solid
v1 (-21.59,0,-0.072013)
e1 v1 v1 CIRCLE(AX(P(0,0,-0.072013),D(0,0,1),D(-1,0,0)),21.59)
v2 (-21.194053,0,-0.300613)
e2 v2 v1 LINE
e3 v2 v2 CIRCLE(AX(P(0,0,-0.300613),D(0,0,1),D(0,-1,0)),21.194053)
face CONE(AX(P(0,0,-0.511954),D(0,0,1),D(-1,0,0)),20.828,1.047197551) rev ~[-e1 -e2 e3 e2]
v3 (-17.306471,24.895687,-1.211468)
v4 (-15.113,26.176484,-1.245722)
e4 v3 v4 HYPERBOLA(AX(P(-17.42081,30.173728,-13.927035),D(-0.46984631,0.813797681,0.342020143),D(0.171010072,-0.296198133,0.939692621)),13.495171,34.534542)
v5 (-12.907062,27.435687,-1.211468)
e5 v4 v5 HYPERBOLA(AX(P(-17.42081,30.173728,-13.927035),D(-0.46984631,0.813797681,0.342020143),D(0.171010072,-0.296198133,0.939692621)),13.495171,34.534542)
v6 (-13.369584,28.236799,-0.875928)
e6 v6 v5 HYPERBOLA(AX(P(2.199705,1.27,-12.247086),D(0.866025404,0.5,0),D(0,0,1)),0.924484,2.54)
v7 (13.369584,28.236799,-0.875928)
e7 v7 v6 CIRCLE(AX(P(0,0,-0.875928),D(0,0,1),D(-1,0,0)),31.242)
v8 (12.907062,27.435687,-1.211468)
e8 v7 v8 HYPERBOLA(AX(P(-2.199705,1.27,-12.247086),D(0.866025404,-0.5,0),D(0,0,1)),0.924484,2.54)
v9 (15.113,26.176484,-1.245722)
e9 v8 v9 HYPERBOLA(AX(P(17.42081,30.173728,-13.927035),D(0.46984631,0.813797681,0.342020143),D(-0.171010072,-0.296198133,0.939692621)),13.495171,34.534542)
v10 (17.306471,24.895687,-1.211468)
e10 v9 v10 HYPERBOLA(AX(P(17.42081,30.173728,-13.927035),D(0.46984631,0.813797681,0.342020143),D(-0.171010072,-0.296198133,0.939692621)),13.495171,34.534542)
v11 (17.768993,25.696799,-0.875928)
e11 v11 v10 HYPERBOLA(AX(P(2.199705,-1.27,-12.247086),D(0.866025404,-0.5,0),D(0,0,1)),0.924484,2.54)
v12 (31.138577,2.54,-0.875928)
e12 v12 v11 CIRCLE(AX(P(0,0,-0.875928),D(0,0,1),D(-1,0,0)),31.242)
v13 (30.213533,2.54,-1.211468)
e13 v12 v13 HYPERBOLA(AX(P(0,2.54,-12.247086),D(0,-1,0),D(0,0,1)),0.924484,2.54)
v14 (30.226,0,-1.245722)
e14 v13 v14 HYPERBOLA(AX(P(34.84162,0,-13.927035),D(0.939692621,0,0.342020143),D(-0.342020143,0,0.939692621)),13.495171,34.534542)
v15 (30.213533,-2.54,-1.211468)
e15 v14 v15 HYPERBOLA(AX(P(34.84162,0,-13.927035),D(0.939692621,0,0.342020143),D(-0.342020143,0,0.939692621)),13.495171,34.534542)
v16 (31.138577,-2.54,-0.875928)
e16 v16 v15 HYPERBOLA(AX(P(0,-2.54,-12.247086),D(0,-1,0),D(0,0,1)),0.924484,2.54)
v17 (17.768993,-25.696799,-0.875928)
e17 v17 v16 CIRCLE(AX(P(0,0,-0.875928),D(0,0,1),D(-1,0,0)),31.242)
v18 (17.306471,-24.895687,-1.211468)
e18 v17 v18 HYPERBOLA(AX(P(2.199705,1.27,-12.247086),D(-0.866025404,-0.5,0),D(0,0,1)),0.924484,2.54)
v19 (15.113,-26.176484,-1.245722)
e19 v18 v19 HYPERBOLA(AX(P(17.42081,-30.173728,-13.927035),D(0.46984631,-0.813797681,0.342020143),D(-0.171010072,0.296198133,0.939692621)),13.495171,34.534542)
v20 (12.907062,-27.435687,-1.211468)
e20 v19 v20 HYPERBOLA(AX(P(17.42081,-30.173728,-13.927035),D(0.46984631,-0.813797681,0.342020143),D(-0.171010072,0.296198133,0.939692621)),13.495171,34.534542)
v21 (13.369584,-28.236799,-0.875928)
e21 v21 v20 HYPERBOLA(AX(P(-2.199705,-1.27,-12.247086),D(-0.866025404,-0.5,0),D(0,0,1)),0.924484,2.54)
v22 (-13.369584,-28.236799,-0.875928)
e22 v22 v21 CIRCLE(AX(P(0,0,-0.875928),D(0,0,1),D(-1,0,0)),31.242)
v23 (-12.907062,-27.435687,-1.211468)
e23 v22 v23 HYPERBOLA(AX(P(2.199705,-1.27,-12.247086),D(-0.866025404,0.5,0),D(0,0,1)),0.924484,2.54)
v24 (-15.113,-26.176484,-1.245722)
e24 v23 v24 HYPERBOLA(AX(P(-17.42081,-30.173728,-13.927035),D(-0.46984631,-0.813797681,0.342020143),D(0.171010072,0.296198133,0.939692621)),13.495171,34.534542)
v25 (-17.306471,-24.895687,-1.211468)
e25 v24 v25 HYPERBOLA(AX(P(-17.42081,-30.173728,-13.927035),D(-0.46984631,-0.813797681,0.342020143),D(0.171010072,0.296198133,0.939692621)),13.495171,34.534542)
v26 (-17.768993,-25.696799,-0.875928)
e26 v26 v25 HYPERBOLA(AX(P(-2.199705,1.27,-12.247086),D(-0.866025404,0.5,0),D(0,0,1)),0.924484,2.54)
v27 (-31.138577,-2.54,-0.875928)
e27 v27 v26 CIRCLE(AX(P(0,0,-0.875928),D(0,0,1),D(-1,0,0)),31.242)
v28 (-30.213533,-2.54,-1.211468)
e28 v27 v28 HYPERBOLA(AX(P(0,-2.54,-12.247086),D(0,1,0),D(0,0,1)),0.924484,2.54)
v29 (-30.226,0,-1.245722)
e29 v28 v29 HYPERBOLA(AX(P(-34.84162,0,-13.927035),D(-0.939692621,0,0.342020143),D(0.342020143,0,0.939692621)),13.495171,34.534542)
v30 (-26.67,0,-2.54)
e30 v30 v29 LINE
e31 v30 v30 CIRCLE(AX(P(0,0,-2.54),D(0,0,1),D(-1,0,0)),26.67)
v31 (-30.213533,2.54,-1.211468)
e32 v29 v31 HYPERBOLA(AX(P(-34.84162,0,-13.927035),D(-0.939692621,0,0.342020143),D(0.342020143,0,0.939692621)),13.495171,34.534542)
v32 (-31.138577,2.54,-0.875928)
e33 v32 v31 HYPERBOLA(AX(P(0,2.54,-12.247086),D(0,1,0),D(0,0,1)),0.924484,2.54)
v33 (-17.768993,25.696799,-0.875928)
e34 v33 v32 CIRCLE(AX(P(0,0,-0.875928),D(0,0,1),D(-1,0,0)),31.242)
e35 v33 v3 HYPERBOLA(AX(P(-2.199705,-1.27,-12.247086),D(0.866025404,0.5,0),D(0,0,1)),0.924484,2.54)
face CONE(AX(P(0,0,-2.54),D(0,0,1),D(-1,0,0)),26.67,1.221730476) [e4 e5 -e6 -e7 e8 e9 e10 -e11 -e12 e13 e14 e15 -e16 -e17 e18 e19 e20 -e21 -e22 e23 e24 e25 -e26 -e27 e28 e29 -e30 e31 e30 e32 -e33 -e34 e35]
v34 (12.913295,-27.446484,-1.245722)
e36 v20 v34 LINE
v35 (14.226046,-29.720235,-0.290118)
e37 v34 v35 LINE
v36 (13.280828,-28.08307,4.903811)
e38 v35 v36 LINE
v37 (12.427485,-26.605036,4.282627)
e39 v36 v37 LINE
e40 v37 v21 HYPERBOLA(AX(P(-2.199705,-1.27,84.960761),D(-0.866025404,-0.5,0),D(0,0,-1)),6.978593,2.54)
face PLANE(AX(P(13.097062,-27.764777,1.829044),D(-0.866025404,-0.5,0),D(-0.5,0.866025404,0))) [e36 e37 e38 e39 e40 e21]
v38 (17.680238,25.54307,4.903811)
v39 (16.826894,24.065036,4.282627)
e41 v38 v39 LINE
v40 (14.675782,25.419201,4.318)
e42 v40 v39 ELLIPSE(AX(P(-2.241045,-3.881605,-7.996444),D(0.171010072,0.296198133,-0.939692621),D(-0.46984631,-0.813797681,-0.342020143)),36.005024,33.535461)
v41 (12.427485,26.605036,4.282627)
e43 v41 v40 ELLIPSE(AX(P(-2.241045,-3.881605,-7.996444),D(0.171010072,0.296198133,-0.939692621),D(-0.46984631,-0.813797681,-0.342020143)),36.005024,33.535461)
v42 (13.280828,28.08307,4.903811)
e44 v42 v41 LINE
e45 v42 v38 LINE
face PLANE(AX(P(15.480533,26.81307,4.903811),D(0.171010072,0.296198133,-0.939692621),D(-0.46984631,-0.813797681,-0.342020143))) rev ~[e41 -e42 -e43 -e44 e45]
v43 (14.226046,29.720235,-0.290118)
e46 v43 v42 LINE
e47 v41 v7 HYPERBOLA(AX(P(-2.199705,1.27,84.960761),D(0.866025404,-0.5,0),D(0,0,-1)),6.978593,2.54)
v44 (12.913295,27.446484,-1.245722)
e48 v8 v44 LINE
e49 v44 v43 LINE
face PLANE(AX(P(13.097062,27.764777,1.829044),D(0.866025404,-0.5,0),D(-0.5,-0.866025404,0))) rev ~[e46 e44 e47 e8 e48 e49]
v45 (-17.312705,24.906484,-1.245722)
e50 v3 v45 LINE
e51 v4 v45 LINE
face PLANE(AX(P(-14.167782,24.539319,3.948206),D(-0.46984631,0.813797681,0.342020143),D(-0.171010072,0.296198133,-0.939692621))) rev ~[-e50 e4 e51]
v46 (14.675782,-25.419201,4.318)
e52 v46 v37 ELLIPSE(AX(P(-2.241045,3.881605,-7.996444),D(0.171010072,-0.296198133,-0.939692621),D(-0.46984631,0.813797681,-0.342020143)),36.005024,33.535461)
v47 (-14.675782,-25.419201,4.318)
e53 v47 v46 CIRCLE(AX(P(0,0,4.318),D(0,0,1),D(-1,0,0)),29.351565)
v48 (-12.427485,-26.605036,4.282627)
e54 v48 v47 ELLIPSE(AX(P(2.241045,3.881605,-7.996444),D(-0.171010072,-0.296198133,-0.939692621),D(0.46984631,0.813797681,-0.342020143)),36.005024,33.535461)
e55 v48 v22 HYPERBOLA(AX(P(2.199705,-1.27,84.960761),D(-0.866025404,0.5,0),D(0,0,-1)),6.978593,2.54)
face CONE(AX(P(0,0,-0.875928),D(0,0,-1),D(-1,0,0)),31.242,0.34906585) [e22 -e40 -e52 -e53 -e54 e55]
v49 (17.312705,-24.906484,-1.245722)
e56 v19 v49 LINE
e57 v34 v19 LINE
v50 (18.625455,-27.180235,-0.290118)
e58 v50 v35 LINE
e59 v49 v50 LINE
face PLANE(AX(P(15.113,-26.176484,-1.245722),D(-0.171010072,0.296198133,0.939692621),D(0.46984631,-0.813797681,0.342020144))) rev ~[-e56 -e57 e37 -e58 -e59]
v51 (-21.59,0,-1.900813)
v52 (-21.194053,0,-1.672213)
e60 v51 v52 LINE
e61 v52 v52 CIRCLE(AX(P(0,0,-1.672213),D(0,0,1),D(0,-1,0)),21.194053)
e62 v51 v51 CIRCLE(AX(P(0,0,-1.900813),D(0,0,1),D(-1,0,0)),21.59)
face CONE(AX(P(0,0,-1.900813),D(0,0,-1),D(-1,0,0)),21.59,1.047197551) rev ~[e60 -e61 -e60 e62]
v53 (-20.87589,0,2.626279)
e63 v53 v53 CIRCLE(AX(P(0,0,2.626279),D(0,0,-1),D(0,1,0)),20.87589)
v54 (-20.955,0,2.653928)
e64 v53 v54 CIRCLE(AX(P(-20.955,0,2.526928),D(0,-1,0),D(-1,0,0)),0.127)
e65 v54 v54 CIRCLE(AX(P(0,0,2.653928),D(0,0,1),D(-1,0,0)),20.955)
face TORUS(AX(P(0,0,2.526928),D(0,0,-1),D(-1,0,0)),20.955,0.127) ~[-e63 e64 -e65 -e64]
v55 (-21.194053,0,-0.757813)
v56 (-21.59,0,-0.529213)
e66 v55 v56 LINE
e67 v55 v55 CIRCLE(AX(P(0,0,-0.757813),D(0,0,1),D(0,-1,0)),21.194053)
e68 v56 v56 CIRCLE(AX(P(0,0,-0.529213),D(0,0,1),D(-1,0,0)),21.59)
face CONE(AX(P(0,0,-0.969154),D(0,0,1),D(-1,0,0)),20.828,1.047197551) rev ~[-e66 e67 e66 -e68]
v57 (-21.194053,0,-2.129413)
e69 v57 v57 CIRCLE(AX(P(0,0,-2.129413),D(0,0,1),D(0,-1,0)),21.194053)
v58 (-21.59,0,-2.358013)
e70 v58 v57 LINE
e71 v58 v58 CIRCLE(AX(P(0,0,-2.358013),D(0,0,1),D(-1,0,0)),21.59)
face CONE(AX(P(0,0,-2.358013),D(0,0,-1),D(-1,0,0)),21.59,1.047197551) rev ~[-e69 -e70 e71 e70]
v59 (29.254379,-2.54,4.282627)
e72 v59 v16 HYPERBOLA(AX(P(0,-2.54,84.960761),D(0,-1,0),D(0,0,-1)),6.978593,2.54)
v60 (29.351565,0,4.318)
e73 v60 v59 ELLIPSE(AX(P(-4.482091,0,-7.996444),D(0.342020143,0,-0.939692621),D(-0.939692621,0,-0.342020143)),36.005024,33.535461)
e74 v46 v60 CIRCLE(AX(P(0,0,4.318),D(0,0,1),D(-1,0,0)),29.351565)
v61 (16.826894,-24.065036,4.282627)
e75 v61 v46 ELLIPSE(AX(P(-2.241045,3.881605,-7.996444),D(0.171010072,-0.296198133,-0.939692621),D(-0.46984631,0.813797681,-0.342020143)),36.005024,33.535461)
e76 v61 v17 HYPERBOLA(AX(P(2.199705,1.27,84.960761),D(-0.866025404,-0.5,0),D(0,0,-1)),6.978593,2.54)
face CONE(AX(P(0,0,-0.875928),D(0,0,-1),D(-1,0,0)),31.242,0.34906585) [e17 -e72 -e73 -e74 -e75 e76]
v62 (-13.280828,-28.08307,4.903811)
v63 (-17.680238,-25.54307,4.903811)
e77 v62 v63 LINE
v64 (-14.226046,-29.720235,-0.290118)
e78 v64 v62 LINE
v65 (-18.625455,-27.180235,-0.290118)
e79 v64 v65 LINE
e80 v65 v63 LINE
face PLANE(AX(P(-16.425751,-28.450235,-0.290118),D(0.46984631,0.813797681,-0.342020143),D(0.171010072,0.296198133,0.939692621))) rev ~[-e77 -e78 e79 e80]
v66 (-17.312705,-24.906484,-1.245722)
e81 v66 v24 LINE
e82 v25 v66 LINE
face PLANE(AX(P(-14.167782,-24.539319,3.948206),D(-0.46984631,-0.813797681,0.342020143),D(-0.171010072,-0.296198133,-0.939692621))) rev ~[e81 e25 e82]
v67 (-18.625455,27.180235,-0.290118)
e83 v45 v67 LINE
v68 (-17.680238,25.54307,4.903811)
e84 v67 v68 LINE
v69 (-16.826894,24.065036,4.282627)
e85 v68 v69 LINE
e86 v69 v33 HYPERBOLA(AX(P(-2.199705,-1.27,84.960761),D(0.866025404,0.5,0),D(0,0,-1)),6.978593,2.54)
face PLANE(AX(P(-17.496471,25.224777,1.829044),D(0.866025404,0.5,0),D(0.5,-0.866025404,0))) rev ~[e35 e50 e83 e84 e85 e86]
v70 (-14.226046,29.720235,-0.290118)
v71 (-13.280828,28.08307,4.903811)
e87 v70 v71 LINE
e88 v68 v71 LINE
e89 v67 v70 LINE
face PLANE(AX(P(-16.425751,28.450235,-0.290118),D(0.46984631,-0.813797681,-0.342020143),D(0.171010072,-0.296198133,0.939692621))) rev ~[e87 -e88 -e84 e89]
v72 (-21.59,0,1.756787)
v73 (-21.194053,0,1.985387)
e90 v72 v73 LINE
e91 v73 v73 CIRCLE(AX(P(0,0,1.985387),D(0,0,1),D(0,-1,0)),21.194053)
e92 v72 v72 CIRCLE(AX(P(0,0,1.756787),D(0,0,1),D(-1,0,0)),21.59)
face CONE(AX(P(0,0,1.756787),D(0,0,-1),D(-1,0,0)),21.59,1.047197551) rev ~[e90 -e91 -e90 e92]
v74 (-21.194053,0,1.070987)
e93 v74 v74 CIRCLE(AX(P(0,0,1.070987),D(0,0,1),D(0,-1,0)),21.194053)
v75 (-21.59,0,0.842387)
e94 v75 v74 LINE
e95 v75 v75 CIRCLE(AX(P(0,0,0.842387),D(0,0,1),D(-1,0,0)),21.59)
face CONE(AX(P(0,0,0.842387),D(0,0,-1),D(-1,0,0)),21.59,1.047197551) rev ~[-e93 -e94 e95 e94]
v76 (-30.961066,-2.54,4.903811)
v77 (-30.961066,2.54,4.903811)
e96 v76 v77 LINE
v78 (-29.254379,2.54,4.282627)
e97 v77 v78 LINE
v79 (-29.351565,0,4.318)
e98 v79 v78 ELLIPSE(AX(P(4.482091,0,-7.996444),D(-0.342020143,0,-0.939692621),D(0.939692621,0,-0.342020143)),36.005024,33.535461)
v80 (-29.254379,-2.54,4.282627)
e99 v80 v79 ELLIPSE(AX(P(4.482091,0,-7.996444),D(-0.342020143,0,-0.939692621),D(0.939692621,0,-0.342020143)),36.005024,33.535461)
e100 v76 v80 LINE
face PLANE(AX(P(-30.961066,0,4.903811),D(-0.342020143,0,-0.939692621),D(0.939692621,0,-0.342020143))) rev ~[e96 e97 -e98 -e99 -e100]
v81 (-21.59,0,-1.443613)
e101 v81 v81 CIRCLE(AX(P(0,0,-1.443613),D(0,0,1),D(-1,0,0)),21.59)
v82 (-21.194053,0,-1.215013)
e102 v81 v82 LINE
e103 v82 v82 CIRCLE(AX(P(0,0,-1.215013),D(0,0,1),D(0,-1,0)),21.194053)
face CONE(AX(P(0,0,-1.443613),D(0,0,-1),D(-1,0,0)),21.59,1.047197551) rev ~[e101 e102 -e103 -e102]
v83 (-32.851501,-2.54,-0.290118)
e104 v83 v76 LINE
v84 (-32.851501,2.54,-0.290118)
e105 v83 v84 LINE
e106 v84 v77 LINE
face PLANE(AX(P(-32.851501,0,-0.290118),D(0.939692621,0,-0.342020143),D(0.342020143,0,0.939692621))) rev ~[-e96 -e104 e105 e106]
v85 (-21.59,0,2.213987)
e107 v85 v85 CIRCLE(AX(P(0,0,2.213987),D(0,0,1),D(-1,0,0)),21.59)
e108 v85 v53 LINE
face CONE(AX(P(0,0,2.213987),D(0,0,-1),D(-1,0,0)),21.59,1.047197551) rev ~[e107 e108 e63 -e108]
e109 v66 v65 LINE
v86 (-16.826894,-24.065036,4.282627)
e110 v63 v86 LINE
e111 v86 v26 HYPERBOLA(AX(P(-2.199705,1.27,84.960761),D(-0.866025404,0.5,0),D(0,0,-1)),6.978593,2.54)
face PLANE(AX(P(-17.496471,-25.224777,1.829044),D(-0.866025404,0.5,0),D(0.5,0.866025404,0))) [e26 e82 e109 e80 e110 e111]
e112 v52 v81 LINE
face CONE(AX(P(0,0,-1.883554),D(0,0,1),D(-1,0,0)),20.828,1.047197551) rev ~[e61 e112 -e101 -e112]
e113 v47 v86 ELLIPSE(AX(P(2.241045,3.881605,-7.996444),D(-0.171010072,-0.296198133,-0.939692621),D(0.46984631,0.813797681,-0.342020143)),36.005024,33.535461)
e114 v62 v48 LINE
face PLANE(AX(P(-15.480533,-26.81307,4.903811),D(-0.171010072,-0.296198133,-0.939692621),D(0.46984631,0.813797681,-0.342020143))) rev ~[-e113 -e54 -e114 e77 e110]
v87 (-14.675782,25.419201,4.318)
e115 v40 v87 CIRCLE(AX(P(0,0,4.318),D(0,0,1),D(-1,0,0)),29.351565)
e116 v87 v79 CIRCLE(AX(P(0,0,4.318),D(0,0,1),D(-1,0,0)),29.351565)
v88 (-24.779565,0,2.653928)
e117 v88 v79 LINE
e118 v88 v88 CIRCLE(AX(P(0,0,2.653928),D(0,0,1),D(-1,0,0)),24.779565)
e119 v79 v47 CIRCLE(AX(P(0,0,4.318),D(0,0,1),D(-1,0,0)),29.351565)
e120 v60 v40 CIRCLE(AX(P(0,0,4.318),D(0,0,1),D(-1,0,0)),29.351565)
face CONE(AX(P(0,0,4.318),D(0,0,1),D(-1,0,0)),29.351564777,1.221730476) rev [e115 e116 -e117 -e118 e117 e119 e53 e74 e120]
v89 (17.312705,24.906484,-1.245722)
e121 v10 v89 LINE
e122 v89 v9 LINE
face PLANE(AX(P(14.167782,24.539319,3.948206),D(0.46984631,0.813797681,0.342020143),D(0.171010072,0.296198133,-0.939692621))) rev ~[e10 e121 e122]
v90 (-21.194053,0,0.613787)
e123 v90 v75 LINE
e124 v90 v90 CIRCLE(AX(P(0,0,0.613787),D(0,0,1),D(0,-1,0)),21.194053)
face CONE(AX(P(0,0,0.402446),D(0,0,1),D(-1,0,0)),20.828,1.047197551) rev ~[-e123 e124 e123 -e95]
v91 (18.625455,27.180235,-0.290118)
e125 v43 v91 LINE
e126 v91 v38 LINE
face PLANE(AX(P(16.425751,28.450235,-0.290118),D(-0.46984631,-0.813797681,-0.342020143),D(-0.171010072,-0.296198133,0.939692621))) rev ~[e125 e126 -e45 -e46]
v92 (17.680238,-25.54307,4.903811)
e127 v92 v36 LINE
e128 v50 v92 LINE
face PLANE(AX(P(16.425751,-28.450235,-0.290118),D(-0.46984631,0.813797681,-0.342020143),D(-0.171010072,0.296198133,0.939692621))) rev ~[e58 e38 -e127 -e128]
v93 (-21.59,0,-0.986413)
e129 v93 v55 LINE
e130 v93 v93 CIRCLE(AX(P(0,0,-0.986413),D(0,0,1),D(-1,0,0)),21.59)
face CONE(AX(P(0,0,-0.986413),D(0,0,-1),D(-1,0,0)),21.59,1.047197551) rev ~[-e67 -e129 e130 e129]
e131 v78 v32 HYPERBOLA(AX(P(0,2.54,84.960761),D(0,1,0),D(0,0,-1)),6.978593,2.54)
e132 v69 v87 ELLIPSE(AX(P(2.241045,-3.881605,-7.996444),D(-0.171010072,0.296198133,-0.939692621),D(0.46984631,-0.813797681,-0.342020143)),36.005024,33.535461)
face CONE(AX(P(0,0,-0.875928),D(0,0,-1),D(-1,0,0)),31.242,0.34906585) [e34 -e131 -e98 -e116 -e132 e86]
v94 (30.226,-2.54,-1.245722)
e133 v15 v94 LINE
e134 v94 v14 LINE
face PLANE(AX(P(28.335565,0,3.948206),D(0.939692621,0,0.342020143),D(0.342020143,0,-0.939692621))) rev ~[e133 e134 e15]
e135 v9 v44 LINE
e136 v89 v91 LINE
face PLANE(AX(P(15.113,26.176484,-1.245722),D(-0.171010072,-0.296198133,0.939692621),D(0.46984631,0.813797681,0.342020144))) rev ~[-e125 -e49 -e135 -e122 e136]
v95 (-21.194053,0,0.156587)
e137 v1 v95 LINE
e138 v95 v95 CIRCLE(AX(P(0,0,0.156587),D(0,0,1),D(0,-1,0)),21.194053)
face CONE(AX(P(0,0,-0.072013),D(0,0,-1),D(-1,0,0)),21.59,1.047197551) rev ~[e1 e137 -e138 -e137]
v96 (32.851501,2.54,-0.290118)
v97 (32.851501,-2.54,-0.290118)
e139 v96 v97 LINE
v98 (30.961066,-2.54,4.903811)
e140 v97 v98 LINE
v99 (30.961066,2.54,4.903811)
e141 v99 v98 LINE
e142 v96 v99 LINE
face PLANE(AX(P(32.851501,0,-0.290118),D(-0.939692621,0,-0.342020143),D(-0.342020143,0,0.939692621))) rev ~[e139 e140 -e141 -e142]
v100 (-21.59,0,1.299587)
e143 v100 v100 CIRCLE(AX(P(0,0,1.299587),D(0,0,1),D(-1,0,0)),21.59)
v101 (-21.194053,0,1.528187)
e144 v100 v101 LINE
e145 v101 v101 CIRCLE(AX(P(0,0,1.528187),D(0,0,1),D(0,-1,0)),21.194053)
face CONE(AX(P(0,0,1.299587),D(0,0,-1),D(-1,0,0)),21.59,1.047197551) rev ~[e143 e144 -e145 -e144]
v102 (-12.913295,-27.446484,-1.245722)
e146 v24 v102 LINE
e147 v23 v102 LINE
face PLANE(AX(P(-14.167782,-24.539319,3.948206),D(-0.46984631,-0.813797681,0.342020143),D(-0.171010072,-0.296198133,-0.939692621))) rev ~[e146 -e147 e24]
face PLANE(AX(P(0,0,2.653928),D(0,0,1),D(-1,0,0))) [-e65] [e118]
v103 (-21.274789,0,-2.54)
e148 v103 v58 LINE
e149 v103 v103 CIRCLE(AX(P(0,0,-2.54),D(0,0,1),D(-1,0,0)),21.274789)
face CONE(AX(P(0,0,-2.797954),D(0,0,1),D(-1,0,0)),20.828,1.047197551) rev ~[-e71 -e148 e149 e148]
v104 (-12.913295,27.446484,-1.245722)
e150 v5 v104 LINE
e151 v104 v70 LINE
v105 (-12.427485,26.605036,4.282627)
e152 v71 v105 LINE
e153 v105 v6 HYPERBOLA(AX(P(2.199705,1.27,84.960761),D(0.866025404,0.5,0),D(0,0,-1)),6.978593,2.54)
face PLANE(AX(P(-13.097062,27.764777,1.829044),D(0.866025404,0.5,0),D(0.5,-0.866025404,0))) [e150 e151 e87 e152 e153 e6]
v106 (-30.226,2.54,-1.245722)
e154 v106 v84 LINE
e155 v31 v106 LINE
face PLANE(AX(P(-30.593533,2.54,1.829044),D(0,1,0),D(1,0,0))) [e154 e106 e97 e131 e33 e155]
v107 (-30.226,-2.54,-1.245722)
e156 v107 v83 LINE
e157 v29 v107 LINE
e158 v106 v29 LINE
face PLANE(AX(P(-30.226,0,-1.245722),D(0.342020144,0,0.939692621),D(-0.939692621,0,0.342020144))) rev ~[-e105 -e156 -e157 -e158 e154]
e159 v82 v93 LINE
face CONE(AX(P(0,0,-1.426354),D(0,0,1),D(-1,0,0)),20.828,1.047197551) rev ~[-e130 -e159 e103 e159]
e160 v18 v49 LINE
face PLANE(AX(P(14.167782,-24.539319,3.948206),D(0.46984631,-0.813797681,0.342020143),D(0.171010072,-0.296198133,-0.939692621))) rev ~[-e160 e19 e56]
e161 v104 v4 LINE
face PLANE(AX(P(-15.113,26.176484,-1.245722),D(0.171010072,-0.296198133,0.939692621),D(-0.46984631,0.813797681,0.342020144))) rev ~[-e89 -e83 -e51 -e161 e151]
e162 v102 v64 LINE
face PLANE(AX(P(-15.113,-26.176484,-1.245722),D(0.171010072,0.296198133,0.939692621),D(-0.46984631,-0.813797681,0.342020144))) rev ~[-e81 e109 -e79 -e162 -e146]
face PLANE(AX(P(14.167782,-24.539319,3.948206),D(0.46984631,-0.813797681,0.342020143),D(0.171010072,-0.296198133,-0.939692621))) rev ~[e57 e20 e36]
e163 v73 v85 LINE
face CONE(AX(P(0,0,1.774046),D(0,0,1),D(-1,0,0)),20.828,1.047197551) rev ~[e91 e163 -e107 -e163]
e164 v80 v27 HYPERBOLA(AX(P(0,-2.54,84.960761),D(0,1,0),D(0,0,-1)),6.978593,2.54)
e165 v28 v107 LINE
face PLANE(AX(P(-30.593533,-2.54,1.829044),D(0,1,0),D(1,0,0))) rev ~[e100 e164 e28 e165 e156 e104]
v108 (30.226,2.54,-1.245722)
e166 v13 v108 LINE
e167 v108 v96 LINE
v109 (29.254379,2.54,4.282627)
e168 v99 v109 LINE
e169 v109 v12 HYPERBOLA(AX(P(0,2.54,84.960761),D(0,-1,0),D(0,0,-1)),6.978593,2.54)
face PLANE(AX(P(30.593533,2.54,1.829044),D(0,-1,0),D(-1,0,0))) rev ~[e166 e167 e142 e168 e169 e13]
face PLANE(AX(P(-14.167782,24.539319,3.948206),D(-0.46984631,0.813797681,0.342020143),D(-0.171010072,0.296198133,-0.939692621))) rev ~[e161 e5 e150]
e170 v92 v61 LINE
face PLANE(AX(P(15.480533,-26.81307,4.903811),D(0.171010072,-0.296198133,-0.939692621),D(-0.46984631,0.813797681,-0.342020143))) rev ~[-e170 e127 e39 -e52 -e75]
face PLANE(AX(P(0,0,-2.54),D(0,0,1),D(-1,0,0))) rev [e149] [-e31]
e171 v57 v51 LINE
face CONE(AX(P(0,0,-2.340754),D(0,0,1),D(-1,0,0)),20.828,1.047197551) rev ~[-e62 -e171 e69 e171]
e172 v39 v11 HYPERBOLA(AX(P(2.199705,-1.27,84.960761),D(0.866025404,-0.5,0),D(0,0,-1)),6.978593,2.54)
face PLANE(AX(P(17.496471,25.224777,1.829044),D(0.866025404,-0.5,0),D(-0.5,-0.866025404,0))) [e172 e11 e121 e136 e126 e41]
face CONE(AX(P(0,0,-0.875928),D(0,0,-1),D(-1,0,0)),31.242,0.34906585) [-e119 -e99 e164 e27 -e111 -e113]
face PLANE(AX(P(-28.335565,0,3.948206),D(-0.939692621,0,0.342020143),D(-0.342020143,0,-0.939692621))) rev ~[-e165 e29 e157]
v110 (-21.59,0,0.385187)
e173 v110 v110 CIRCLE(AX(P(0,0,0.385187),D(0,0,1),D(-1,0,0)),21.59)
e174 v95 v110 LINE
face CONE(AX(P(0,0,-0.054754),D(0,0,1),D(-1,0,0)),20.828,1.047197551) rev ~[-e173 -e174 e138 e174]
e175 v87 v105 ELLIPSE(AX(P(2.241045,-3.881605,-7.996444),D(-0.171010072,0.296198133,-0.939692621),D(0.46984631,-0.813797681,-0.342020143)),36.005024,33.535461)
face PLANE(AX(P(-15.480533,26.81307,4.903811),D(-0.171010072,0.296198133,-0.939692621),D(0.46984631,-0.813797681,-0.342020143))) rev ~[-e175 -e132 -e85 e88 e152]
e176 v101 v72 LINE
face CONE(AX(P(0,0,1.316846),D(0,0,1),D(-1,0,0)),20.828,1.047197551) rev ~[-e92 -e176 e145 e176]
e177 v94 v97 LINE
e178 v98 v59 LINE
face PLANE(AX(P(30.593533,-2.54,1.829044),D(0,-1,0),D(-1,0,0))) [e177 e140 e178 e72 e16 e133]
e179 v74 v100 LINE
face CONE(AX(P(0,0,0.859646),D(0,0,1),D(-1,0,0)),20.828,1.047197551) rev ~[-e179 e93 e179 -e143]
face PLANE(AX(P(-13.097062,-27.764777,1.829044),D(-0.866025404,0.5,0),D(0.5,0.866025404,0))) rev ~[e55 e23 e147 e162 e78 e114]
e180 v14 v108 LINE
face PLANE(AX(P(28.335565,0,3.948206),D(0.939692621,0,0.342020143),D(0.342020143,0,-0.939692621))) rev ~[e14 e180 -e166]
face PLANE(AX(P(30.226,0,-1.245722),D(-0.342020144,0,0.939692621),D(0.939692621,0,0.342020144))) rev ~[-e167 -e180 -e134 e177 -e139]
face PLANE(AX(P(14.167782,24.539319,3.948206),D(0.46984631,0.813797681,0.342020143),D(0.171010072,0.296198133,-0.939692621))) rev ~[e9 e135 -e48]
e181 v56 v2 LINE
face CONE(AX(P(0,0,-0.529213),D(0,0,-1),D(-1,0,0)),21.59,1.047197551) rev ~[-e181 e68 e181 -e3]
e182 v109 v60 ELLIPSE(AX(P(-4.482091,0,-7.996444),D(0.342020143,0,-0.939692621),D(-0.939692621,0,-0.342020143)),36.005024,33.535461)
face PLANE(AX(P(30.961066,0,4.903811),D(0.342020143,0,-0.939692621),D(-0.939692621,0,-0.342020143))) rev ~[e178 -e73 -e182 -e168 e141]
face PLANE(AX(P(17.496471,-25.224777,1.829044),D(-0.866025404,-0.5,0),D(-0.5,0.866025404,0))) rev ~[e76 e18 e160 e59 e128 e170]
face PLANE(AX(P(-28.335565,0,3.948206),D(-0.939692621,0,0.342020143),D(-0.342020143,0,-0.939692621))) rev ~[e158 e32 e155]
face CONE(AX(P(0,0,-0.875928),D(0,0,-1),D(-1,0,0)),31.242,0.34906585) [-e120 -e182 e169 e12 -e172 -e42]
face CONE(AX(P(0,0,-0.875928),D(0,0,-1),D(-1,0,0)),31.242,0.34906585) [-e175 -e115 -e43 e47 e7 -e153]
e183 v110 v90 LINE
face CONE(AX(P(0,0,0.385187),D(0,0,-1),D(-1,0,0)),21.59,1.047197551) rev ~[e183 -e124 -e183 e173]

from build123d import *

# Parameters (mm, degrees)
EXTRUDE3_DEPTH    = 2.54
CIRPATTERN1_COUNT = 6
FILLET4_R         = 0.127
LPATTERN1_COUNT   = 11
LPATTERN1_PITCH   = 0.4572


with BuildPart() as part:
    # Sketch1 → Revolve1 (revolve)
    with BuildSketch(Plane(origin=(0, 0, 0), x_dir=(1, 0, 0), z_dir=(0, 1, 0)), mode=Mode.PRIVATE) as revolve1_sk:
        Polygon((20.828, 2.54), (26.67, 2.54), (31.242, 0.875928089), (29.351564777, -4.318), (24.779564777, -2.653928089), (20.828, -2.653928089), align=None)
    revolve(revolve1_sk.sketch.rotate(Axis((0, 0, -37.83814433), (0, 0, 1)), 180), axis=Axis((0, 0, -37.83814433), (0, 0, 1)))  # turned: the seam where the file's is

    # Sketch3 → Extrude3 (add, symmetric)
    with BuildSketch(Plane(origin=(0, 0, 0), x_dir=(1, 0, 0), z_dir=(0, 1, 0))):
        Polygon((30.226, 1.245721847), (32.851501182, 0.290117566), (30.961065959, -4.903810522), (28.335564777, -3.948206242), align=None)
    extrude3 = extrude(amount=EXTRUDE3_DEPTH, both=True)

    # CirPattern1: Extrude3 ×6 about axis
    cirpattern1_axis = Axis((0, 0, 0), (0, 0, 1))
    for i in range(1, CIRPATTERN1_COUNT):
        add(extrude3.rotate(cirpattern1_axis, i * 360 / CIRPATTERN1_COUNT))

    # Fillet4
    fillet4_edges = [part.edges().sort_by_distance(p)[0] for p in [
        (20.828, 0, 2.653928089),
        (20.828, 0, -2.54),
    ]]
    fillet(fillet4_edges, radius=FILLET4_R)

    # Sketch4 → Cut-Revolve1 (revolve, cut)
    with BuildSketch(Plane(origin=(0, 0, 0), x_dir=(1, 0, 0), z_dir=(0, 1, 0))):
        Polygon((-20.828, -2.653928089), (-20.828, -1.774046279), (-21.59, -2.213987184), align=None)
    cut_revolve1 = revolve(axis=Axis((0, 0, -37.83814433), (0, 0, 1)), mode=Mode.SUBTRACT)

    # LPattern1: Cut-Revolve1 ×11
    with Locations(*[(0, 0, -i * LPATTERN1_PITCH) for i in range(1, LPATTERN1_COUNT)]):
        add(cut_revolve1, mode=Mode.SUBTRACT)


solid = part.part
